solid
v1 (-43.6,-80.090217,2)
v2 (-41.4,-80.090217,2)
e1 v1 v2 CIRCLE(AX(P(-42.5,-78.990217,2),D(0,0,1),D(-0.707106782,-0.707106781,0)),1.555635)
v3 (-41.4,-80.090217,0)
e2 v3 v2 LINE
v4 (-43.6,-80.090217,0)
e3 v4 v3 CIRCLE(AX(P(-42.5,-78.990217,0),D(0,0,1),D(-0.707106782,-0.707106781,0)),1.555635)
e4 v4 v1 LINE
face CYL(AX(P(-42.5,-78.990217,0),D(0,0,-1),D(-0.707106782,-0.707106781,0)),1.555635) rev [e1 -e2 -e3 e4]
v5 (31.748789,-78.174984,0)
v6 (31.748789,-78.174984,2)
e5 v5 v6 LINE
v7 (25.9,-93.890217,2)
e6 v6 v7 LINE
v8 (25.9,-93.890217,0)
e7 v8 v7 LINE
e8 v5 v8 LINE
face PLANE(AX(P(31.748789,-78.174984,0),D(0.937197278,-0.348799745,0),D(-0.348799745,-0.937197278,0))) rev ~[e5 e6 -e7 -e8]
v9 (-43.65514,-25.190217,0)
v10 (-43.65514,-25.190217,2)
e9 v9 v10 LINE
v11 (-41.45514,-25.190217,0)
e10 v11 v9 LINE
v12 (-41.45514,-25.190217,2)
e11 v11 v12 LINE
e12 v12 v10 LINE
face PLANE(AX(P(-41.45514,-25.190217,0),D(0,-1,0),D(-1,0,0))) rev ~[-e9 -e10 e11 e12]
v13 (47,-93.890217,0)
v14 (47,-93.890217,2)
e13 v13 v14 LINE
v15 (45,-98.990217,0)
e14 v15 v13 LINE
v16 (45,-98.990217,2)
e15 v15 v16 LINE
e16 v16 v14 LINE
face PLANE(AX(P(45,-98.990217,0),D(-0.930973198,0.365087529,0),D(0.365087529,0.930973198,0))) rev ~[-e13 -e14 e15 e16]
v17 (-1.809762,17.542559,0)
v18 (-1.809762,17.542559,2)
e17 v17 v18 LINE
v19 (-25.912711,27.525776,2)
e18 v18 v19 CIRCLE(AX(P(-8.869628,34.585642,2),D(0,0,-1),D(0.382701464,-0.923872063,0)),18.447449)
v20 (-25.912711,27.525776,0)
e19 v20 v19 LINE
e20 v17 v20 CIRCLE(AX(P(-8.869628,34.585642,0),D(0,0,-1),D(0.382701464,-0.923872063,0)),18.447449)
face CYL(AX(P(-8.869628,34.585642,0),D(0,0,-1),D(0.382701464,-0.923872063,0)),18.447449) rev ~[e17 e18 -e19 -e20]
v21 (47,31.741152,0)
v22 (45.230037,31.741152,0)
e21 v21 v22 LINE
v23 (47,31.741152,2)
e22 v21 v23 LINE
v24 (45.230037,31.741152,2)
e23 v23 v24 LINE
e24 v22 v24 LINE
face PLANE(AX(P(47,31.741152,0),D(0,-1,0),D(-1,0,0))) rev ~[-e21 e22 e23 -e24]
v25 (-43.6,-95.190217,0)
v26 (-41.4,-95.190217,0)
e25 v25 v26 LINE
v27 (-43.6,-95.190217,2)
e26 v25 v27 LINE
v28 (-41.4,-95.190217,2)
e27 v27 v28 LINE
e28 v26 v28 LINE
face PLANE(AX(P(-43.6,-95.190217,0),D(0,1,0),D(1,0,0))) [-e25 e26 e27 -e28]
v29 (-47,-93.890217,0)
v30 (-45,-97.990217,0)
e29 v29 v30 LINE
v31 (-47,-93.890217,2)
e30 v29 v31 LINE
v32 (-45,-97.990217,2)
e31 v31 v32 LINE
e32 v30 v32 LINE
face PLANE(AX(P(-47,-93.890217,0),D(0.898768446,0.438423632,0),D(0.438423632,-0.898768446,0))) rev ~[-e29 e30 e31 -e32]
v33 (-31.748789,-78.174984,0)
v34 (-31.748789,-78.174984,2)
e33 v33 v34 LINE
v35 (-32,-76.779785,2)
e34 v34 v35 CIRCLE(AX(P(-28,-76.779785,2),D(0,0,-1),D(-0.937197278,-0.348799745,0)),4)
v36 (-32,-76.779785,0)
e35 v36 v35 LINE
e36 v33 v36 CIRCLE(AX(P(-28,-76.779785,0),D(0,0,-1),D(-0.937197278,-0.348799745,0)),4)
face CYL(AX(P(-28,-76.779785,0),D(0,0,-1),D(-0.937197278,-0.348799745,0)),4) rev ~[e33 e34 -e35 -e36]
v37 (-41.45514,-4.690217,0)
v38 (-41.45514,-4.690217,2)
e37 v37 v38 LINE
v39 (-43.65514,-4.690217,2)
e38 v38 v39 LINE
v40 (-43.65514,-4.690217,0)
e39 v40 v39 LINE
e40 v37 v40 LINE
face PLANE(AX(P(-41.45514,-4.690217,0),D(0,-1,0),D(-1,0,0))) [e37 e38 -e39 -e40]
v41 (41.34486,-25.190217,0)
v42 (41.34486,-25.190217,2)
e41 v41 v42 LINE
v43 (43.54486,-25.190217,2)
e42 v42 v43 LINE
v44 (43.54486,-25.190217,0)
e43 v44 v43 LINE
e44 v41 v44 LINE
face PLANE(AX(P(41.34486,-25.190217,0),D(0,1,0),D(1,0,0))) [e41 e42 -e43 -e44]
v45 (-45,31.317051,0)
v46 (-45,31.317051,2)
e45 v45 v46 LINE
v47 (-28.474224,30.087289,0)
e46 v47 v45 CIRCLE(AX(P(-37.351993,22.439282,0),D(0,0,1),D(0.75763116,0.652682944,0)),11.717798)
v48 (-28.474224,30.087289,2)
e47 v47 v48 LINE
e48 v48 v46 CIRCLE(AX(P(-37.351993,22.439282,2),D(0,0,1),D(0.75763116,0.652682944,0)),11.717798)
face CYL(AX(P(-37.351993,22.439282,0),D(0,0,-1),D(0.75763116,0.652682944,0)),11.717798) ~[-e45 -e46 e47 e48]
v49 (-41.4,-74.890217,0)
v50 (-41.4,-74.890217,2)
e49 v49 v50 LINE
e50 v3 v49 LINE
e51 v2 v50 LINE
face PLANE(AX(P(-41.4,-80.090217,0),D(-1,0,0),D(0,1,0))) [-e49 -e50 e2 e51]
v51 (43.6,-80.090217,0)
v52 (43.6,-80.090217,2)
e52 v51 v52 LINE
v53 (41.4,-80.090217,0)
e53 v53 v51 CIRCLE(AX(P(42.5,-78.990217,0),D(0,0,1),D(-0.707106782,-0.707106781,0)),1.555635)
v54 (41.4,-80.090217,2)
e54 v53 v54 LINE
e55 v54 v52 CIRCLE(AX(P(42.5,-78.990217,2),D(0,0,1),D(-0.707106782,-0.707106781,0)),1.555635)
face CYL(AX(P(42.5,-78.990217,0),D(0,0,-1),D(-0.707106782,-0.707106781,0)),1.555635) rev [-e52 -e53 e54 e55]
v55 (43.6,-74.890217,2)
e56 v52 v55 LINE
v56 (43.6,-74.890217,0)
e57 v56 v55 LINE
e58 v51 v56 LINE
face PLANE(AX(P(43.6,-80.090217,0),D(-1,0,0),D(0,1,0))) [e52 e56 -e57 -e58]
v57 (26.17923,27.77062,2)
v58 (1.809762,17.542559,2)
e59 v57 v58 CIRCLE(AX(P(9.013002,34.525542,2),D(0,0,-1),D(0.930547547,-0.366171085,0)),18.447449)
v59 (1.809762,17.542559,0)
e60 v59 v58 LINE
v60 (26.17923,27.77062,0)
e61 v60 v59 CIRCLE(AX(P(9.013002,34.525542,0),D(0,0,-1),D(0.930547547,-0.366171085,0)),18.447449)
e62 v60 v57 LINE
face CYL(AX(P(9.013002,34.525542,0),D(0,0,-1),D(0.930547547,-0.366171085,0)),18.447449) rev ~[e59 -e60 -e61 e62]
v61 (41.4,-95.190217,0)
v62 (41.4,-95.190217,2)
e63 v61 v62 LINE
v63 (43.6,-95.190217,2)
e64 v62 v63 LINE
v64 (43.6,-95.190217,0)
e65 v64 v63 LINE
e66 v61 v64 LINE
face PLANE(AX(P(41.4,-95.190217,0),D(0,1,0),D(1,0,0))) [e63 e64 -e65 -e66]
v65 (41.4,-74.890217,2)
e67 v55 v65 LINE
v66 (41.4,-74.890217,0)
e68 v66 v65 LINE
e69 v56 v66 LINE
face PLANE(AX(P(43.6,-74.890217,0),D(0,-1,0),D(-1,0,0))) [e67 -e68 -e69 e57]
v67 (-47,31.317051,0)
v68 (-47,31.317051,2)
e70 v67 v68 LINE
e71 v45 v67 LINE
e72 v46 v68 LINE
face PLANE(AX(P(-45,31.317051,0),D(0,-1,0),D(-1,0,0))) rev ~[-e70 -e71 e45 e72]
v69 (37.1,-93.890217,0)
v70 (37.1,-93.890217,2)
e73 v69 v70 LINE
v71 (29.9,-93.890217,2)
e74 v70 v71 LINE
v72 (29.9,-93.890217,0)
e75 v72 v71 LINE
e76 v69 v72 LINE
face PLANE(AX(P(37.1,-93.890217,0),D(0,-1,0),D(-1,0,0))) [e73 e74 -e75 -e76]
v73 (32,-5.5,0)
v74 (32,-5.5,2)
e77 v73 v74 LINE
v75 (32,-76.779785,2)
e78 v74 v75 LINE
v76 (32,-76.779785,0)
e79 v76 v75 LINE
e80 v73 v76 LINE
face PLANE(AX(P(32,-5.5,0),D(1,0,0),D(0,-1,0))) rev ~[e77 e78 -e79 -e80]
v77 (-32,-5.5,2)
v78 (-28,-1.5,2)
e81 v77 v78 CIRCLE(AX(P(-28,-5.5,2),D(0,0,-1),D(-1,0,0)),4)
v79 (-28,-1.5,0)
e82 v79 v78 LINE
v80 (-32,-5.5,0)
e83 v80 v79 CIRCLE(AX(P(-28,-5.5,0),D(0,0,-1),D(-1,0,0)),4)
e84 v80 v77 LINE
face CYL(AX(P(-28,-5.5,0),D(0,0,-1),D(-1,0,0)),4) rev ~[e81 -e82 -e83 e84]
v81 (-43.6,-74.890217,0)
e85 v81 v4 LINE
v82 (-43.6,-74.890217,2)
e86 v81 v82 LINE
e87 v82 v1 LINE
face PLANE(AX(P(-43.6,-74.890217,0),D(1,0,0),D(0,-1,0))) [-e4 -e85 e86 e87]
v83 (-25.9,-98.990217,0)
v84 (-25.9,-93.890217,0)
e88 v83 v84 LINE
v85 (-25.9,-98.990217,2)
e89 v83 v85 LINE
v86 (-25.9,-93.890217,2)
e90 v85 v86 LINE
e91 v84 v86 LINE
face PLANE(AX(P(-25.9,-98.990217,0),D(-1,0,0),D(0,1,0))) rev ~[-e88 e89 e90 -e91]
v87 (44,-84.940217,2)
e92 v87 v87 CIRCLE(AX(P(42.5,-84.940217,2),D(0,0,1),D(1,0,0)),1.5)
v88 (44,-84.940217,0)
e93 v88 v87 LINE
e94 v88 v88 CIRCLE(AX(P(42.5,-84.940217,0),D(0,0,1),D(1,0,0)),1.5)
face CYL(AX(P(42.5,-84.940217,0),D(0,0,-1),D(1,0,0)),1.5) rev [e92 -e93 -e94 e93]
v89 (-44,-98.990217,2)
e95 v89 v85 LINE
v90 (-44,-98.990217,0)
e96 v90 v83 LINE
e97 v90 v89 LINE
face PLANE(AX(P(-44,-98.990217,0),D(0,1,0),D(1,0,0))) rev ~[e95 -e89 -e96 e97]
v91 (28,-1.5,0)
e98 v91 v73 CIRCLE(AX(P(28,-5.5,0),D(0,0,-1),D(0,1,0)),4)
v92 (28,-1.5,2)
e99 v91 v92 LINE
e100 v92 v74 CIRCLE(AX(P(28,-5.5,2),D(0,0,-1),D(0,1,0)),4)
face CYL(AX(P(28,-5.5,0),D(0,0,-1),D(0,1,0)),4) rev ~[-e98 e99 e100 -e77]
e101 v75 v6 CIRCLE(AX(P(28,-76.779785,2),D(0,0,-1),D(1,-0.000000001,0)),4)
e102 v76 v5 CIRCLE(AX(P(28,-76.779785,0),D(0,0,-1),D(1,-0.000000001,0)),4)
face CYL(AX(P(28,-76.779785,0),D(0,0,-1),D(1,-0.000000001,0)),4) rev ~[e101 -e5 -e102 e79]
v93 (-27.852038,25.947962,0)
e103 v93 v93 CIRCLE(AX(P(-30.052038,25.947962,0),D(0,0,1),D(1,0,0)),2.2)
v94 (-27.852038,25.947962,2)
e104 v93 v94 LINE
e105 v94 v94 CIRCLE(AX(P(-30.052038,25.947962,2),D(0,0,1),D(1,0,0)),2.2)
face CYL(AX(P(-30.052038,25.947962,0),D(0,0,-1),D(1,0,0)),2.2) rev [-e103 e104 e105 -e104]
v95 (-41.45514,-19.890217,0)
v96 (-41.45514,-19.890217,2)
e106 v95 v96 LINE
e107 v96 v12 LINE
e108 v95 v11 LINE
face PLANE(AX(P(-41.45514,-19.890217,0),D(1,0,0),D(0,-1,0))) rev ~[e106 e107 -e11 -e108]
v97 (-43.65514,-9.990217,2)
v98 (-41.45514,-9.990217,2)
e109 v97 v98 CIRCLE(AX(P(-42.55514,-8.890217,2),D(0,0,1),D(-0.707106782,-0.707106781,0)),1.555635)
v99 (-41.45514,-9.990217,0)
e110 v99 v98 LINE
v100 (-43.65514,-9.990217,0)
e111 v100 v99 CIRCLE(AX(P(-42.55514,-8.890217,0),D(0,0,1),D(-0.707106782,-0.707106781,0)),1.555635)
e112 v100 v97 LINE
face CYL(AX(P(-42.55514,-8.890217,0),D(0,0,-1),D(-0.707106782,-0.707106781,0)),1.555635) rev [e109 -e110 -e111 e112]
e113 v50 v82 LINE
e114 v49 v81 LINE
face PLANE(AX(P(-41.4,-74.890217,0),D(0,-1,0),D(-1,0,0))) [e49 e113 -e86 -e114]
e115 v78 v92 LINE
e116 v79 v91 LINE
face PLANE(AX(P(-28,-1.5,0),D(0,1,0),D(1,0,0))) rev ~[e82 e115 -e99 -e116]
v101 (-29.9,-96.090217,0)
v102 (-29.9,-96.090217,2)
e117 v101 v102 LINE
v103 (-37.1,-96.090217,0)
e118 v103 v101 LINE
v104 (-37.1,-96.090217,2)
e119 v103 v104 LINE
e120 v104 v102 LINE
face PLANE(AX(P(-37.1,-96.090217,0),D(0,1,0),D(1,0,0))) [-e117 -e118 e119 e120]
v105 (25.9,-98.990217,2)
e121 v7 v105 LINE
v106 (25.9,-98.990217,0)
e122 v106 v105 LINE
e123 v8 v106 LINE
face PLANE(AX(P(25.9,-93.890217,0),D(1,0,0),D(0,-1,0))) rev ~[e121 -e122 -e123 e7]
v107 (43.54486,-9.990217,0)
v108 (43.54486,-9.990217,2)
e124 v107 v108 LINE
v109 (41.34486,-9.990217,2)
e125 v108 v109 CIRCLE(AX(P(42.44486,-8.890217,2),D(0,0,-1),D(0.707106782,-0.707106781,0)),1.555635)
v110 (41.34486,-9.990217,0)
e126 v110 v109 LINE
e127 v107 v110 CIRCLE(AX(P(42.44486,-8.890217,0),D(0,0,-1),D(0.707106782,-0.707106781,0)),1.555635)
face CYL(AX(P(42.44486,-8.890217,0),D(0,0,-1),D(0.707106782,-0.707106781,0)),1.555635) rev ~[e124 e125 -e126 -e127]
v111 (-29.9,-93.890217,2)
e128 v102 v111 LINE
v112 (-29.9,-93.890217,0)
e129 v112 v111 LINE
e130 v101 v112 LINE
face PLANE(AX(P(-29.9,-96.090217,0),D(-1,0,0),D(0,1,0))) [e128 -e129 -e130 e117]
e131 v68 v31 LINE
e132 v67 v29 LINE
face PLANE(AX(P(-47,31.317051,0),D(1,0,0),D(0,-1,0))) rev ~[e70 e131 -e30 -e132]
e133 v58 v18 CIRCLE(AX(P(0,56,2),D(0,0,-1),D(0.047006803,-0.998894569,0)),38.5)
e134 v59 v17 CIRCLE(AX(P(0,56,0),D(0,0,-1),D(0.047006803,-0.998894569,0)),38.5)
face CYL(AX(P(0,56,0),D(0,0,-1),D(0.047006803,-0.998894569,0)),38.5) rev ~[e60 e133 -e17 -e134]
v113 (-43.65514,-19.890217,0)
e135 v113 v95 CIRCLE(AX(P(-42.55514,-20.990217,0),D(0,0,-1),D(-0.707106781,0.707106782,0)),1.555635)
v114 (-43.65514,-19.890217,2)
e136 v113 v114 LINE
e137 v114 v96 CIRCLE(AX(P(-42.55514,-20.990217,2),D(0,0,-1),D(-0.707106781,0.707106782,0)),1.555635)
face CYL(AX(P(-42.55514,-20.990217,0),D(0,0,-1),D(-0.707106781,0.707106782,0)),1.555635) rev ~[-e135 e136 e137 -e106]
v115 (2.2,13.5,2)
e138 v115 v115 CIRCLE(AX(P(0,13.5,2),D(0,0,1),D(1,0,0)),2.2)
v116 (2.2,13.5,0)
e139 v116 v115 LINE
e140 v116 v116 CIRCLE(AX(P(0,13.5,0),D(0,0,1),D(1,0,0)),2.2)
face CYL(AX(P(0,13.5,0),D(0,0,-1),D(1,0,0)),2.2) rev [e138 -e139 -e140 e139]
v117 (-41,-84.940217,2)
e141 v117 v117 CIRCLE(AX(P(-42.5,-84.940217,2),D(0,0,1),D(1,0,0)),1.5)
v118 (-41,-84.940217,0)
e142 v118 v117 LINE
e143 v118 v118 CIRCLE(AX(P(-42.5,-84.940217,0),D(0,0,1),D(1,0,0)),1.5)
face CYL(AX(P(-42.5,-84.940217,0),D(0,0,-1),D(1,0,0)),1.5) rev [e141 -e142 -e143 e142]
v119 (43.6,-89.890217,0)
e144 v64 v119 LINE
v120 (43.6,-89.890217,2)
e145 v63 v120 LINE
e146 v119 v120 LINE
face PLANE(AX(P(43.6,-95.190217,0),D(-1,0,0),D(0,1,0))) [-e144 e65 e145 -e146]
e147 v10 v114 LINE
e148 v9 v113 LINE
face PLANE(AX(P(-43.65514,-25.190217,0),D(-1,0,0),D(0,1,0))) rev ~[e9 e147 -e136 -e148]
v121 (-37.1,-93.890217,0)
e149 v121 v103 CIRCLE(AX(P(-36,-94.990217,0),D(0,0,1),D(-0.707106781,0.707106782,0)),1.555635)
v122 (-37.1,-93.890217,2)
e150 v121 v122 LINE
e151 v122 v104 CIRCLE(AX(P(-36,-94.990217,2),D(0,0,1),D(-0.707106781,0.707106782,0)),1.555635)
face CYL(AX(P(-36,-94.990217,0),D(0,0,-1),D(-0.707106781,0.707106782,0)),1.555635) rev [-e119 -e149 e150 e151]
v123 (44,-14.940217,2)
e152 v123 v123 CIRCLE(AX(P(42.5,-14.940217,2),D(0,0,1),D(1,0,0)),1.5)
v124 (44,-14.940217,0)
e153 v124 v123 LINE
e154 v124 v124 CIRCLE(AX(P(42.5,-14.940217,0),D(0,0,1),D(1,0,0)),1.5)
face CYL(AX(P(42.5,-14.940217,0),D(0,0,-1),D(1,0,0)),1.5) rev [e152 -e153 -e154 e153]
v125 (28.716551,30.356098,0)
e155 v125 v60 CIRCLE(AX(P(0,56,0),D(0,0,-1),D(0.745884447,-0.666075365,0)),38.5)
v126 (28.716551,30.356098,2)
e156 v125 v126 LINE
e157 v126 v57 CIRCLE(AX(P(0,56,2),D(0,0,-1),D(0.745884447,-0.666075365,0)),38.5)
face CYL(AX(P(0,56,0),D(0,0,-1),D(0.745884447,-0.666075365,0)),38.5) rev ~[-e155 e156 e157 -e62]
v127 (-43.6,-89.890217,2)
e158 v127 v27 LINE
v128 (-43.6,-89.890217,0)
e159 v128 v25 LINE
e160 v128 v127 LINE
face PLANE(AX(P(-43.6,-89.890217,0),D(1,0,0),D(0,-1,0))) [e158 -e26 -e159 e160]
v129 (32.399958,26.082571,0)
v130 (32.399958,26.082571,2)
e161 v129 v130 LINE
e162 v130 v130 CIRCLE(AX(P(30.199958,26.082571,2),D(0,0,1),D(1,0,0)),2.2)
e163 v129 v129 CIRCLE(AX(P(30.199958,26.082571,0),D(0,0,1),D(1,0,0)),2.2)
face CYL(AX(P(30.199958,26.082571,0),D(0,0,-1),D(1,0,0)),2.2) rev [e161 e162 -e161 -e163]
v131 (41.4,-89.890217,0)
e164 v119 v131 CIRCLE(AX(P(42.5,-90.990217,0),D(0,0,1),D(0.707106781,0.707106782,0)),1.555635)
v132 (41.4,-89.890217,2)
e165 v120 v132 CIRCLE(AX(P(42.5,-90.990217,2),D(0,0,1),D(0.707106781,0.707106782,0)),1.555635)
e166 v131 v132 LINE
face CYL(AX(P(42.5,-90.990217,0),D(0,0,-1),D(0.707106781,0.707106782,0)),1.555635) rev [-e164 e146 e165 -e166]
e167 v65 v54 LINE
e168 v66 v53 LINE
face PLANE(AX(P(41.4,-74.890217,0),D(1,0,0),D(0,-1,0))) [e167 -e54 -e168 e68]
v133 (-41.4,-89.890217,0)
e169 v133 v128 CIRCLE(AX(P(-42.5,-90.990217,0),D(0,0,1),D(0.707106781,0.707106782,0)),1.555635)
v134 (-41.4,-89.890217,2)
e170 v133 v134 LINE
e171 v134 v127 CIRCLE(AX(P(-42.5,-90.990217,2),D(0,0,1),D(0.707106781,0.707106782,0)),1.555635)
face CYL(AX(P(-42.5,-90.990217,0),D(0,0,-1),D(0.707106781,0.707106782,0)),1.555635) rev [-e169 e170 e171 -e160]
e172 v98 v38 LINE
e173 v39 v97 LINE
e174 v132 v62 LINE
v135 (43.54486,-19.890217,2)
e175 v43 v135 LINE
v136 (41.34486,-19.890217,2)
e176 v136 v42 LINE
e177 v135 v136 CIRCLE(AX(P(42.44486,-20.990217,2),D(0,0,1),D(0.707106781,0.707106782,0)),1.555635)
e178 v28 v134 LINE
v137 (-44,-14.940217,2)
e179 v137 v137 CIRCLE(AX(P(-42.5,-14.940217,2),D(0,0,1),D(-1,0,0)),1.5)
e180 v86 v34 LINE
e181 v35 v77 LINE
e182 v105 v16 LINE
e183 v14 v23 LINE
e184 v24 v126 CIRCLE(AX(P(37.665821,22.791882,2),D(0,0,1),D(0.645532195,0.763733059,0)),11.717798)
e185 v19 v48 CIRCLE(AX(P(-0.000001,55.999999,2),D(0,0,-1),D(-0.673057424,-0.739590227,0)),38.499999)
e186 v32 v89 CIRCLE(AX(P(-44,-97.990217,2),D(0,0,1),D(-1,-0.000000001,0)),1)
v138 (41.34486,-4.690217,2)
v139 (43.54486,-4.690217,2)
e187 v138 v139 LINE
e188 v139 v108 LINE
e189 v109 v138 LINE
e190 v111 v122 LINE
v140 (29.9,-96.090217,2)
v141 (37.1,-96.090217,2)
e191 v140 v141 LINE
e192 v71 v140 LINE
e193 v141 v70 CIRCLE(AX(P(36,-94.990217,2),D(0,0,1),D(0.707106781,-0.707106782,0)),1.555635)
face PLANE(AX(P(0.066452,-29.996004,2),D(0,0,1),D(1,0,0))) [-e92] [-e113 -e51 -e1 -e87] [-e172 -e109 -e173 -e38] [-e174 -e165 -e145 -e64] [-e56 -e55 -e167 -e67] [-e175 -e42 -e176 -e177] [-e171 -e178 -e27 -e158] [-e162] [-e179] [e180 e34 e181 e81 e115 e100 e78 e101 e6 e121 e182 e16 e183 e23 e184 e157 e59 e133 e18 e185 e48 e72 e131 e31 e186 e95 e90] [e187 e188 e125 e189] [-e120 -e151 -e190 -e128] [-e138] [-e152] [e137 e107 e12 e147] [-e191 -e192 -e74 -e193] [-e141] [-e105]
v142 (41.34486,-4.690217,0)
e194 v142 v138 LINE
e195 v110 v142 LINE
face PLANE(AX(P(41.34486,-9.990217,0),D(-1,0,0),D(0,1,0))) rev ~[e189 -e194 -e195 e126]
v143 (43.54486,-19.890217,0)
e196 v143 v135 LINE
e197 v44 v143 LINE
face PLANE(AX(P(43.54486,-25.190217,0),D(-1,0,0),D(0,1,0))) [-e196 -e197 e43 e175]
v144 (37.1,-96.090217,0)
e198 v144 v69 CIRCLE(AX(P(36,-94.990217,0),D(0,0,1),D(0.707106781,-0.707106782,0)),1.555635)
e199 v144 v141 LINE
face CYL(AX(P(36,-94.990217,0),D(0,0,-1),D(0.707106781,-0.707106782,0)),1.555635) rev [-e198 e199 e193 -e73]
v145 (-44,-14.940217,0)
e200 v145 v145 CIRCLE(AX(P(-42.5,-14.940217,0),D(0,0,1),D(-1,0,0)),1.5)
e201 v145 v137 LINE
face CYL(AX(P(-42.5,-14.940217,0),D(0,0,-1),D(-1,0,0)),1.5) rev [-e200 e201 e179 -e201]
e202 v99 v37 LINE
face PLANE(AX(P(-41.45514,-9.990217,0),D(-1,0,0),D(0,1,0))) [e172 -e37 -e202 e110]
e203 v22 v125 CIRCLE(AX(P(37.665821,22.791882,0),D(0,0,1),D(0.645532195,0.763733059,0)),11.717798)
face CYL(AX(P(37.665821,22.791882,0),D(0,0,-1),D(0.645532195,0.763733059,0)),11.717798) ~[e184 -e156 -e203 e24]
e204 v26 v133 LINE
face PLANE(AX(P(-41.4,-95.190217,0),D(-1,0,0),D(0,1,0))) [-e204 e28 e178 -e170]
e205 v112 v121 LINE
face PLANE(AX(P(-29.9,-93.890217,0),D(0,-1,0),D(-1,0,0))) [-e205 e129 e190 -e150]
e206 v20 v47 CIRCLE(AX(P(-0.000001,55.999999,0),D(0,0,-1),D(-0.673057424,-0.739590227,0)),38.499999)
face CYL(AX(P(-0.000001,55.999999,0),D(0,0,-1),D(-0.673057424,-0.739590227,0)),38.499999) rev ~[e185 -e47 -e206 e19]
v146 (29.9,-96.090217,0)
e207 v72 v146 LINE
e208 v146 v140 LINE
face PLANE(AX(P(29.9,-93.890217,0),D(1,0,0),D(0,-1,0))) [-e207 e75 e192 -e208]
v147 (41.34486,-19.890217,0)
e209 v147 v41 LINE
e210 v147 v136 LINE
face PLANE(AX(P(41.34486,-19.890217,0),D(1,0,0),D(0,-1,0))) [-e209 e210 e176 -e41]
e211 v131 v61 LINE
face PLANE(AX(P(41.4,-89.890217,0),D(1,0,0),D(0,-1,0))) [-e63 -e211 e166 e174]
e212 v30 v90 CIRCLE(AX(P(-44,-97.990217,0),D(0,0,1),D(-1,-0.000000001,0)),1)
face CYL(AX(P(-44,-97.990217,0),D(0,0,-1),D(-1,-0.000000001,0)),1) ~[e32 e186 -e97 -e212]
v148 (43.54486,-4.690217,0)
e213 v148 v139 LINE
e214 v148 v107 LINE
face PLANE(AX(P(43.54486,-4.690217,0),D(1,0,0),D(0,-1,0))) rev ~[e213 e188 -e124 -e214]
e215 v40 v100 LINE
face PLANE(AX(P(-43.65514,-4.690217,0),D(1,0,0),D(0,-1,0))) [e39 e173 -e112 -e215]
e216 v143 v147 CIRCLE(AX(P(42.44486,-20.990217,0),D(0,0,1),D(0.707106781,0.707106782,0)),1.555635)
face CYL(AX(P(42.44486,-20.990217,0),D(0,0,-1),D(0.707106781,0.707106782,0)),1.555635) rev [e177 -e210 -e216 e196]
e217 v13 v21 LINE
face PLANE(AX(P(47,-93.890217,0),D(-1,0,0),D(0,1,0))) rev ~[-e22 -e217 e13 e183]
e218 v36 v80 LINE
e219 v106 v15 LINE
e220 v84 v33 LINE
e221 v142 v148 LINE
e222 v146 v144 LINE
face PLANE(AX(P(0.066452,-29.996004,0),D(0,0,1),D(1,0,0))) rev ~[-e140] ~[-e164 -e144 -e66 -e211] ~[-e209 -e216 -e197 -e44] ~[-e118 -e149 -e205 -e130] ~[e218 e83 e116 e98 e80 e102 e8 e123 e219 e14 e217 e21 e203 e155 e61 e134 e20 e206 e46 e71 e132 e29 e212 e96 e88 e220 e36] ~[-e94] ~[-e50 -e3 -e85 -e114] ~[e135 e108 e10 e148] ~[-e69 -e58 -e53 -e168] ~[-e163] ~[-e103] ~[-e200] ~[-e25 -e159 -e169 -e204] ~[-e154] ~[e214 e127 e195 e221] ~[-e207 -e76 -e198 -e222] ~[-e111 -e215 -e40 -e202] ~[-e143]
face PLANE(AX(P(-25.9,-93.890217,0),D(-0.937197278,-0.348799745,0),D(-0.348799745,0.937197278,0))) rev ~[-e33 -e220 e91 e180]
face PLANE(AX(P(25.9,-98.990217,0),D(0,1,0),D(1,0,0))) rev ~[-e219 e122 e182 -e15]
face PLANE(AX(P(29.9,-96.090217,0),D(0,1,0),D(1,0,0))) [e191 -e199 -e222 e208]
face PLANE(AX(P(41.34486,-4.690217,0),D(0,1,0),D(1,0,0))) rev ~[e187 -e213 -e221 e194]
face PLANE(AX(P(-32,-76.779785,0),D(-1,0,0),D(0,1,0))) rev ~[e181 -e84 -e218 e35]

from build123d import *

# Parameters (mm, degrees)
SKETCH_3_R      = 2.2
SKETCH_3_R_2    = 1.5
EXTRUDE_1_DEPTH = 2


with BuildPart() as part:
    # 草图3 → 凸台-拉伸1 (new body)
    with BuildSketch(Plane.XY):
        with BuildLine():
            Line((-47, 31.317051182), (-47, -93.890216685))
            Line((-47, -93.890216685), (-45, -97.990216685))
            ThreePointArc((-45, -97.990216685), (-44.707106781, -98.697323466), (-44, -98.990216685))
            Line((-44, -98.990216685), (-25.9, -98.990216685))
            Line((-25.9, -98.990216685), (-25.9, -97.990216685))
            Line((-25.9, -97.990216685), (-25.9, -93.890216685))
            Line((-25.9, -93.890216685), (-31.748789112, -78.174983751))
            ThreePointArc((-31.748789112, -78.174983751), (-31.936696359, -77.488601938), (-32, -76.779784772))
            Line((-32, -76.779784772), (-32, -5.5))
            ThreePointArc((-32, -5.5), (-30.828427125, -2.671572875), (-28, -1.5))
            Line((-28, -1.5), (28, -1.5))
            ThreePointArc((28, -1.5), (30.828427125, -2.671572875), (32, -5.5))
            Line((32, -5.5), (32, -76.779784772))
            ThreePointArc((32, -76.779784772), (31.936696359, -77.488601938), (31.748789112, -78.174983751))
            Line((31.748789112, -78.174983751), (25.9, -93.890216685))
            Line((25.9, -93.890216685), (25.9, -97.990216685))
            Line((25.9, -97.990216685), (25.9, -98.990216685))
            Line((25.9, -98.990216685), (45, -98.990216685))
            Line((45, -98.990216685), (47, -93.890216685))
            Line((47, -93.890216685), (47, 31.741152315))
            Line((47, 31.741152315), (45.230037269, 31.741152315))
            ThreePointArc((45.230037269, 31.741152315), (36.686440181, 34.468680322), (28.716551195, 30.356098435))
            ThreePointArc((28.716551195, 30.356098435), (27.478316584, 29.033500084), (26.179230338, 27.770619934))
            ThreePointArc((26.179230338, 27.770619934), (16.152230905, 17.515551518), (1.809761925, 17.542559084))
            ThreePointArc((1.809761925, 17.542559084), (0, 17.5), (-1.809761925, 17.542559084))
            ThreePointArc((-1.809761925, 17.542559084), (-15.928828372, 17.542283516), (-25.912710857, 27.525776288))
            ThreePointArc((-25.912710857, 27.525776288), (-27.223611076, 28.776388924), (-28.474223712, 30.087289143))
            ThreePointArc((-28.474223712, 30.087289143), (-36.482419799, 34.124770496), (-45, 31.317051182))
            Line((-45, 31.317051182), (-47, 31.317051182))
        make_face()
        with Locations((0, 13.5)):
            Circle(SKETCH_3_R, mode=Mode.SUBTRACT)
        with Locations((-30.052038202, 25.947961669)):
            Circle(SKETCH_3_R, mode=Mode.SUBTRACT)
        with Locations((30.199957913, 26.082571452)):
            Circle(SKETCH_3_R, mode=Mode.SUBTRACT)
        with Locations((42.5, -14.940216685)):
            Circle(SKETCH_3_R_2, mode=Mode.SUBTRACT)
        with Locations(Location((-42.5, -14.940216685, 0), (0, 0, 180))):
            Circle(SKETCH_3_R_2, mode=Mode.SUBTRACT)
        with Locations((42.5, -84.940216685)):
            Circle(SKETCH_3_R_2, mode=Mode.SUBTRACT)
        with Locations((-42.5, -84.940216685)):
            Circle(SKETCH_3_R_2, mode=Mode.SUBTRACT)
        with BuildLine():
            Line((-37.1, -96.090216685), (-29.9, -96.090216685))
            Line((-29.9, -96.090216685), (-29.9, -93.890216685))
            Line((-29.9, -93.890216685), (-37.1, -93.890216685))
            ThreePointArc((-37.1, -93.890216685), (-37.555634919, -94.990216685), (-37.1, -96.090216685))
        make_face(mode=Mode.SUBTRACT)
        with BuildLine():
            Line((-41.45513954, -19.890216685), (-41.45513954, -25.190216685))
            Line((-41.45513954, -25.190216685), (-43.65513954, -25.190216685))
            Line((-43.65513954, -25.190216685), (-43.65513954, -19.890216685))
            ThreePointArc((-43.65513954, -19.890216685), (-42.55513954, -19.434581767), (-41.45513954, -19.890216685))
        make_face(mode=Mode.SUBTRACT)
        with BuildLine():
            Line((37.1, -93.890216685), (29.9, -93.890216685))
            Line((29.9, -93.890216685), (29.9, -96.090216685))
            Line((29.9, -96.090216685), (37.1, -96.090216685))
            ThreePointArc((37.1, -96.090216685), (37.555634919, -94.990216685), (37.1, -93.890216685))
        make_face(mode=Mode.SUBTRACT)
        with BuildLine():
            Line((43.54486046, -25.190216685), (43.54486046, -19.890216685))
            ThreePointArc((43.54486046, -19.890216685), (42.44486046, -19.434581767), (41.34486046, -19.890216685))
            Line((41.34486046, -19.890216685), (41.34486046, -25.190216685))
            Line((41.34486046, -25.190216685), (43.54486046, -25.190216685))
        make_face(mode=Mode.SUBTRACT)
        with BuildLine():
            Line((41.34486046, -9.990216685), (41.34486046, -4.690216685))
            Line((41.34486046, -4.690216685), (43.54486046, -4.690216685))
            Line((43.54486046, -4.690216685), (43.54486046, -9.990216685))
            ThreePointArc((43.54486046, -9.990216685), (42.44486046, -10.445851604), (41.34486046, -9.990216685))
        make_face(mode=Mode.SUBTRACT)
        with BuildLine():
            Line((43.6, -95.190216685), (43.6, -89.890216685))
            ThreePointArc((43.6, -89.890216685), (42.5, -89.434581767), (41.4, -89.890216685))
            Line((41.4, -89.890216685), (41.4, -95.190216685))
            Line((41.4, -95.190216685), (43.6, -95.190216685))
        make_face(mode=Mode.SUBTRACT)
        with BuildLine():
            Line((41.4, -74.890216685), (41.4, -80.090216685))
            ThreePointArc((41.4, -80.090216685), (42.5, -80.545851604), (43.6, -80.090216685))
            Line((43.6, -80.090216685), (43.6, -74.890216685))
            Line((43.6, -74.890216685), (41.4, -74.890216685))
        make_face(mode=Mode.SUBTRACT)
        with BuildLine():
            Line((-41.4, -95.190216685), (-41.4, -89.890216685))
            ThreePointArc((-41.4, -89.890216685), (-42.5, -89.434581767), (-43.6, -89.890216685))
            Line((-43.6, -89.890216685), (-43.6, -95.190216685))
            Line((-43.6, -95.190216685), (-41.4, -95.190216685))
        make_face(mode=Mode.SUBTRACT)
        with BuildLine():
            Line((-43.6, -74.890216685), (-43.6, -80.090216685))
            ThreePointArc((-43.6, -80.090216685), (-42.5, -80.545851604), (-41.4, -80.090216685))
            Line((-41.4, -80.090216685), (-41.4, -74.890216685))
            Line((-41.4, -74.890216685), (-43.6, -74.890216685))
        make_face(mode=Mode.SUBTRACT)
        with BuildLine():
            Line((-43.65513954, -4.690216685), (-43.65513954, -9.990216685))
            ThreePointArc((-43.65513954, -9.990216685), (-42.55513954, -10.445851604), (-41.45513954, -9.990216685))
            Line((-41.45513954, -9.990216685), (-41.45513954, -4.690216685))
            Line((-41.45513954, -4.690216685), (-43.65513954, -4.690216685))
        make_face(mode=Mode.SUBTRACT)
    extrude(amount=EXTRUDE_1_DEPTH)


solid = part.part
